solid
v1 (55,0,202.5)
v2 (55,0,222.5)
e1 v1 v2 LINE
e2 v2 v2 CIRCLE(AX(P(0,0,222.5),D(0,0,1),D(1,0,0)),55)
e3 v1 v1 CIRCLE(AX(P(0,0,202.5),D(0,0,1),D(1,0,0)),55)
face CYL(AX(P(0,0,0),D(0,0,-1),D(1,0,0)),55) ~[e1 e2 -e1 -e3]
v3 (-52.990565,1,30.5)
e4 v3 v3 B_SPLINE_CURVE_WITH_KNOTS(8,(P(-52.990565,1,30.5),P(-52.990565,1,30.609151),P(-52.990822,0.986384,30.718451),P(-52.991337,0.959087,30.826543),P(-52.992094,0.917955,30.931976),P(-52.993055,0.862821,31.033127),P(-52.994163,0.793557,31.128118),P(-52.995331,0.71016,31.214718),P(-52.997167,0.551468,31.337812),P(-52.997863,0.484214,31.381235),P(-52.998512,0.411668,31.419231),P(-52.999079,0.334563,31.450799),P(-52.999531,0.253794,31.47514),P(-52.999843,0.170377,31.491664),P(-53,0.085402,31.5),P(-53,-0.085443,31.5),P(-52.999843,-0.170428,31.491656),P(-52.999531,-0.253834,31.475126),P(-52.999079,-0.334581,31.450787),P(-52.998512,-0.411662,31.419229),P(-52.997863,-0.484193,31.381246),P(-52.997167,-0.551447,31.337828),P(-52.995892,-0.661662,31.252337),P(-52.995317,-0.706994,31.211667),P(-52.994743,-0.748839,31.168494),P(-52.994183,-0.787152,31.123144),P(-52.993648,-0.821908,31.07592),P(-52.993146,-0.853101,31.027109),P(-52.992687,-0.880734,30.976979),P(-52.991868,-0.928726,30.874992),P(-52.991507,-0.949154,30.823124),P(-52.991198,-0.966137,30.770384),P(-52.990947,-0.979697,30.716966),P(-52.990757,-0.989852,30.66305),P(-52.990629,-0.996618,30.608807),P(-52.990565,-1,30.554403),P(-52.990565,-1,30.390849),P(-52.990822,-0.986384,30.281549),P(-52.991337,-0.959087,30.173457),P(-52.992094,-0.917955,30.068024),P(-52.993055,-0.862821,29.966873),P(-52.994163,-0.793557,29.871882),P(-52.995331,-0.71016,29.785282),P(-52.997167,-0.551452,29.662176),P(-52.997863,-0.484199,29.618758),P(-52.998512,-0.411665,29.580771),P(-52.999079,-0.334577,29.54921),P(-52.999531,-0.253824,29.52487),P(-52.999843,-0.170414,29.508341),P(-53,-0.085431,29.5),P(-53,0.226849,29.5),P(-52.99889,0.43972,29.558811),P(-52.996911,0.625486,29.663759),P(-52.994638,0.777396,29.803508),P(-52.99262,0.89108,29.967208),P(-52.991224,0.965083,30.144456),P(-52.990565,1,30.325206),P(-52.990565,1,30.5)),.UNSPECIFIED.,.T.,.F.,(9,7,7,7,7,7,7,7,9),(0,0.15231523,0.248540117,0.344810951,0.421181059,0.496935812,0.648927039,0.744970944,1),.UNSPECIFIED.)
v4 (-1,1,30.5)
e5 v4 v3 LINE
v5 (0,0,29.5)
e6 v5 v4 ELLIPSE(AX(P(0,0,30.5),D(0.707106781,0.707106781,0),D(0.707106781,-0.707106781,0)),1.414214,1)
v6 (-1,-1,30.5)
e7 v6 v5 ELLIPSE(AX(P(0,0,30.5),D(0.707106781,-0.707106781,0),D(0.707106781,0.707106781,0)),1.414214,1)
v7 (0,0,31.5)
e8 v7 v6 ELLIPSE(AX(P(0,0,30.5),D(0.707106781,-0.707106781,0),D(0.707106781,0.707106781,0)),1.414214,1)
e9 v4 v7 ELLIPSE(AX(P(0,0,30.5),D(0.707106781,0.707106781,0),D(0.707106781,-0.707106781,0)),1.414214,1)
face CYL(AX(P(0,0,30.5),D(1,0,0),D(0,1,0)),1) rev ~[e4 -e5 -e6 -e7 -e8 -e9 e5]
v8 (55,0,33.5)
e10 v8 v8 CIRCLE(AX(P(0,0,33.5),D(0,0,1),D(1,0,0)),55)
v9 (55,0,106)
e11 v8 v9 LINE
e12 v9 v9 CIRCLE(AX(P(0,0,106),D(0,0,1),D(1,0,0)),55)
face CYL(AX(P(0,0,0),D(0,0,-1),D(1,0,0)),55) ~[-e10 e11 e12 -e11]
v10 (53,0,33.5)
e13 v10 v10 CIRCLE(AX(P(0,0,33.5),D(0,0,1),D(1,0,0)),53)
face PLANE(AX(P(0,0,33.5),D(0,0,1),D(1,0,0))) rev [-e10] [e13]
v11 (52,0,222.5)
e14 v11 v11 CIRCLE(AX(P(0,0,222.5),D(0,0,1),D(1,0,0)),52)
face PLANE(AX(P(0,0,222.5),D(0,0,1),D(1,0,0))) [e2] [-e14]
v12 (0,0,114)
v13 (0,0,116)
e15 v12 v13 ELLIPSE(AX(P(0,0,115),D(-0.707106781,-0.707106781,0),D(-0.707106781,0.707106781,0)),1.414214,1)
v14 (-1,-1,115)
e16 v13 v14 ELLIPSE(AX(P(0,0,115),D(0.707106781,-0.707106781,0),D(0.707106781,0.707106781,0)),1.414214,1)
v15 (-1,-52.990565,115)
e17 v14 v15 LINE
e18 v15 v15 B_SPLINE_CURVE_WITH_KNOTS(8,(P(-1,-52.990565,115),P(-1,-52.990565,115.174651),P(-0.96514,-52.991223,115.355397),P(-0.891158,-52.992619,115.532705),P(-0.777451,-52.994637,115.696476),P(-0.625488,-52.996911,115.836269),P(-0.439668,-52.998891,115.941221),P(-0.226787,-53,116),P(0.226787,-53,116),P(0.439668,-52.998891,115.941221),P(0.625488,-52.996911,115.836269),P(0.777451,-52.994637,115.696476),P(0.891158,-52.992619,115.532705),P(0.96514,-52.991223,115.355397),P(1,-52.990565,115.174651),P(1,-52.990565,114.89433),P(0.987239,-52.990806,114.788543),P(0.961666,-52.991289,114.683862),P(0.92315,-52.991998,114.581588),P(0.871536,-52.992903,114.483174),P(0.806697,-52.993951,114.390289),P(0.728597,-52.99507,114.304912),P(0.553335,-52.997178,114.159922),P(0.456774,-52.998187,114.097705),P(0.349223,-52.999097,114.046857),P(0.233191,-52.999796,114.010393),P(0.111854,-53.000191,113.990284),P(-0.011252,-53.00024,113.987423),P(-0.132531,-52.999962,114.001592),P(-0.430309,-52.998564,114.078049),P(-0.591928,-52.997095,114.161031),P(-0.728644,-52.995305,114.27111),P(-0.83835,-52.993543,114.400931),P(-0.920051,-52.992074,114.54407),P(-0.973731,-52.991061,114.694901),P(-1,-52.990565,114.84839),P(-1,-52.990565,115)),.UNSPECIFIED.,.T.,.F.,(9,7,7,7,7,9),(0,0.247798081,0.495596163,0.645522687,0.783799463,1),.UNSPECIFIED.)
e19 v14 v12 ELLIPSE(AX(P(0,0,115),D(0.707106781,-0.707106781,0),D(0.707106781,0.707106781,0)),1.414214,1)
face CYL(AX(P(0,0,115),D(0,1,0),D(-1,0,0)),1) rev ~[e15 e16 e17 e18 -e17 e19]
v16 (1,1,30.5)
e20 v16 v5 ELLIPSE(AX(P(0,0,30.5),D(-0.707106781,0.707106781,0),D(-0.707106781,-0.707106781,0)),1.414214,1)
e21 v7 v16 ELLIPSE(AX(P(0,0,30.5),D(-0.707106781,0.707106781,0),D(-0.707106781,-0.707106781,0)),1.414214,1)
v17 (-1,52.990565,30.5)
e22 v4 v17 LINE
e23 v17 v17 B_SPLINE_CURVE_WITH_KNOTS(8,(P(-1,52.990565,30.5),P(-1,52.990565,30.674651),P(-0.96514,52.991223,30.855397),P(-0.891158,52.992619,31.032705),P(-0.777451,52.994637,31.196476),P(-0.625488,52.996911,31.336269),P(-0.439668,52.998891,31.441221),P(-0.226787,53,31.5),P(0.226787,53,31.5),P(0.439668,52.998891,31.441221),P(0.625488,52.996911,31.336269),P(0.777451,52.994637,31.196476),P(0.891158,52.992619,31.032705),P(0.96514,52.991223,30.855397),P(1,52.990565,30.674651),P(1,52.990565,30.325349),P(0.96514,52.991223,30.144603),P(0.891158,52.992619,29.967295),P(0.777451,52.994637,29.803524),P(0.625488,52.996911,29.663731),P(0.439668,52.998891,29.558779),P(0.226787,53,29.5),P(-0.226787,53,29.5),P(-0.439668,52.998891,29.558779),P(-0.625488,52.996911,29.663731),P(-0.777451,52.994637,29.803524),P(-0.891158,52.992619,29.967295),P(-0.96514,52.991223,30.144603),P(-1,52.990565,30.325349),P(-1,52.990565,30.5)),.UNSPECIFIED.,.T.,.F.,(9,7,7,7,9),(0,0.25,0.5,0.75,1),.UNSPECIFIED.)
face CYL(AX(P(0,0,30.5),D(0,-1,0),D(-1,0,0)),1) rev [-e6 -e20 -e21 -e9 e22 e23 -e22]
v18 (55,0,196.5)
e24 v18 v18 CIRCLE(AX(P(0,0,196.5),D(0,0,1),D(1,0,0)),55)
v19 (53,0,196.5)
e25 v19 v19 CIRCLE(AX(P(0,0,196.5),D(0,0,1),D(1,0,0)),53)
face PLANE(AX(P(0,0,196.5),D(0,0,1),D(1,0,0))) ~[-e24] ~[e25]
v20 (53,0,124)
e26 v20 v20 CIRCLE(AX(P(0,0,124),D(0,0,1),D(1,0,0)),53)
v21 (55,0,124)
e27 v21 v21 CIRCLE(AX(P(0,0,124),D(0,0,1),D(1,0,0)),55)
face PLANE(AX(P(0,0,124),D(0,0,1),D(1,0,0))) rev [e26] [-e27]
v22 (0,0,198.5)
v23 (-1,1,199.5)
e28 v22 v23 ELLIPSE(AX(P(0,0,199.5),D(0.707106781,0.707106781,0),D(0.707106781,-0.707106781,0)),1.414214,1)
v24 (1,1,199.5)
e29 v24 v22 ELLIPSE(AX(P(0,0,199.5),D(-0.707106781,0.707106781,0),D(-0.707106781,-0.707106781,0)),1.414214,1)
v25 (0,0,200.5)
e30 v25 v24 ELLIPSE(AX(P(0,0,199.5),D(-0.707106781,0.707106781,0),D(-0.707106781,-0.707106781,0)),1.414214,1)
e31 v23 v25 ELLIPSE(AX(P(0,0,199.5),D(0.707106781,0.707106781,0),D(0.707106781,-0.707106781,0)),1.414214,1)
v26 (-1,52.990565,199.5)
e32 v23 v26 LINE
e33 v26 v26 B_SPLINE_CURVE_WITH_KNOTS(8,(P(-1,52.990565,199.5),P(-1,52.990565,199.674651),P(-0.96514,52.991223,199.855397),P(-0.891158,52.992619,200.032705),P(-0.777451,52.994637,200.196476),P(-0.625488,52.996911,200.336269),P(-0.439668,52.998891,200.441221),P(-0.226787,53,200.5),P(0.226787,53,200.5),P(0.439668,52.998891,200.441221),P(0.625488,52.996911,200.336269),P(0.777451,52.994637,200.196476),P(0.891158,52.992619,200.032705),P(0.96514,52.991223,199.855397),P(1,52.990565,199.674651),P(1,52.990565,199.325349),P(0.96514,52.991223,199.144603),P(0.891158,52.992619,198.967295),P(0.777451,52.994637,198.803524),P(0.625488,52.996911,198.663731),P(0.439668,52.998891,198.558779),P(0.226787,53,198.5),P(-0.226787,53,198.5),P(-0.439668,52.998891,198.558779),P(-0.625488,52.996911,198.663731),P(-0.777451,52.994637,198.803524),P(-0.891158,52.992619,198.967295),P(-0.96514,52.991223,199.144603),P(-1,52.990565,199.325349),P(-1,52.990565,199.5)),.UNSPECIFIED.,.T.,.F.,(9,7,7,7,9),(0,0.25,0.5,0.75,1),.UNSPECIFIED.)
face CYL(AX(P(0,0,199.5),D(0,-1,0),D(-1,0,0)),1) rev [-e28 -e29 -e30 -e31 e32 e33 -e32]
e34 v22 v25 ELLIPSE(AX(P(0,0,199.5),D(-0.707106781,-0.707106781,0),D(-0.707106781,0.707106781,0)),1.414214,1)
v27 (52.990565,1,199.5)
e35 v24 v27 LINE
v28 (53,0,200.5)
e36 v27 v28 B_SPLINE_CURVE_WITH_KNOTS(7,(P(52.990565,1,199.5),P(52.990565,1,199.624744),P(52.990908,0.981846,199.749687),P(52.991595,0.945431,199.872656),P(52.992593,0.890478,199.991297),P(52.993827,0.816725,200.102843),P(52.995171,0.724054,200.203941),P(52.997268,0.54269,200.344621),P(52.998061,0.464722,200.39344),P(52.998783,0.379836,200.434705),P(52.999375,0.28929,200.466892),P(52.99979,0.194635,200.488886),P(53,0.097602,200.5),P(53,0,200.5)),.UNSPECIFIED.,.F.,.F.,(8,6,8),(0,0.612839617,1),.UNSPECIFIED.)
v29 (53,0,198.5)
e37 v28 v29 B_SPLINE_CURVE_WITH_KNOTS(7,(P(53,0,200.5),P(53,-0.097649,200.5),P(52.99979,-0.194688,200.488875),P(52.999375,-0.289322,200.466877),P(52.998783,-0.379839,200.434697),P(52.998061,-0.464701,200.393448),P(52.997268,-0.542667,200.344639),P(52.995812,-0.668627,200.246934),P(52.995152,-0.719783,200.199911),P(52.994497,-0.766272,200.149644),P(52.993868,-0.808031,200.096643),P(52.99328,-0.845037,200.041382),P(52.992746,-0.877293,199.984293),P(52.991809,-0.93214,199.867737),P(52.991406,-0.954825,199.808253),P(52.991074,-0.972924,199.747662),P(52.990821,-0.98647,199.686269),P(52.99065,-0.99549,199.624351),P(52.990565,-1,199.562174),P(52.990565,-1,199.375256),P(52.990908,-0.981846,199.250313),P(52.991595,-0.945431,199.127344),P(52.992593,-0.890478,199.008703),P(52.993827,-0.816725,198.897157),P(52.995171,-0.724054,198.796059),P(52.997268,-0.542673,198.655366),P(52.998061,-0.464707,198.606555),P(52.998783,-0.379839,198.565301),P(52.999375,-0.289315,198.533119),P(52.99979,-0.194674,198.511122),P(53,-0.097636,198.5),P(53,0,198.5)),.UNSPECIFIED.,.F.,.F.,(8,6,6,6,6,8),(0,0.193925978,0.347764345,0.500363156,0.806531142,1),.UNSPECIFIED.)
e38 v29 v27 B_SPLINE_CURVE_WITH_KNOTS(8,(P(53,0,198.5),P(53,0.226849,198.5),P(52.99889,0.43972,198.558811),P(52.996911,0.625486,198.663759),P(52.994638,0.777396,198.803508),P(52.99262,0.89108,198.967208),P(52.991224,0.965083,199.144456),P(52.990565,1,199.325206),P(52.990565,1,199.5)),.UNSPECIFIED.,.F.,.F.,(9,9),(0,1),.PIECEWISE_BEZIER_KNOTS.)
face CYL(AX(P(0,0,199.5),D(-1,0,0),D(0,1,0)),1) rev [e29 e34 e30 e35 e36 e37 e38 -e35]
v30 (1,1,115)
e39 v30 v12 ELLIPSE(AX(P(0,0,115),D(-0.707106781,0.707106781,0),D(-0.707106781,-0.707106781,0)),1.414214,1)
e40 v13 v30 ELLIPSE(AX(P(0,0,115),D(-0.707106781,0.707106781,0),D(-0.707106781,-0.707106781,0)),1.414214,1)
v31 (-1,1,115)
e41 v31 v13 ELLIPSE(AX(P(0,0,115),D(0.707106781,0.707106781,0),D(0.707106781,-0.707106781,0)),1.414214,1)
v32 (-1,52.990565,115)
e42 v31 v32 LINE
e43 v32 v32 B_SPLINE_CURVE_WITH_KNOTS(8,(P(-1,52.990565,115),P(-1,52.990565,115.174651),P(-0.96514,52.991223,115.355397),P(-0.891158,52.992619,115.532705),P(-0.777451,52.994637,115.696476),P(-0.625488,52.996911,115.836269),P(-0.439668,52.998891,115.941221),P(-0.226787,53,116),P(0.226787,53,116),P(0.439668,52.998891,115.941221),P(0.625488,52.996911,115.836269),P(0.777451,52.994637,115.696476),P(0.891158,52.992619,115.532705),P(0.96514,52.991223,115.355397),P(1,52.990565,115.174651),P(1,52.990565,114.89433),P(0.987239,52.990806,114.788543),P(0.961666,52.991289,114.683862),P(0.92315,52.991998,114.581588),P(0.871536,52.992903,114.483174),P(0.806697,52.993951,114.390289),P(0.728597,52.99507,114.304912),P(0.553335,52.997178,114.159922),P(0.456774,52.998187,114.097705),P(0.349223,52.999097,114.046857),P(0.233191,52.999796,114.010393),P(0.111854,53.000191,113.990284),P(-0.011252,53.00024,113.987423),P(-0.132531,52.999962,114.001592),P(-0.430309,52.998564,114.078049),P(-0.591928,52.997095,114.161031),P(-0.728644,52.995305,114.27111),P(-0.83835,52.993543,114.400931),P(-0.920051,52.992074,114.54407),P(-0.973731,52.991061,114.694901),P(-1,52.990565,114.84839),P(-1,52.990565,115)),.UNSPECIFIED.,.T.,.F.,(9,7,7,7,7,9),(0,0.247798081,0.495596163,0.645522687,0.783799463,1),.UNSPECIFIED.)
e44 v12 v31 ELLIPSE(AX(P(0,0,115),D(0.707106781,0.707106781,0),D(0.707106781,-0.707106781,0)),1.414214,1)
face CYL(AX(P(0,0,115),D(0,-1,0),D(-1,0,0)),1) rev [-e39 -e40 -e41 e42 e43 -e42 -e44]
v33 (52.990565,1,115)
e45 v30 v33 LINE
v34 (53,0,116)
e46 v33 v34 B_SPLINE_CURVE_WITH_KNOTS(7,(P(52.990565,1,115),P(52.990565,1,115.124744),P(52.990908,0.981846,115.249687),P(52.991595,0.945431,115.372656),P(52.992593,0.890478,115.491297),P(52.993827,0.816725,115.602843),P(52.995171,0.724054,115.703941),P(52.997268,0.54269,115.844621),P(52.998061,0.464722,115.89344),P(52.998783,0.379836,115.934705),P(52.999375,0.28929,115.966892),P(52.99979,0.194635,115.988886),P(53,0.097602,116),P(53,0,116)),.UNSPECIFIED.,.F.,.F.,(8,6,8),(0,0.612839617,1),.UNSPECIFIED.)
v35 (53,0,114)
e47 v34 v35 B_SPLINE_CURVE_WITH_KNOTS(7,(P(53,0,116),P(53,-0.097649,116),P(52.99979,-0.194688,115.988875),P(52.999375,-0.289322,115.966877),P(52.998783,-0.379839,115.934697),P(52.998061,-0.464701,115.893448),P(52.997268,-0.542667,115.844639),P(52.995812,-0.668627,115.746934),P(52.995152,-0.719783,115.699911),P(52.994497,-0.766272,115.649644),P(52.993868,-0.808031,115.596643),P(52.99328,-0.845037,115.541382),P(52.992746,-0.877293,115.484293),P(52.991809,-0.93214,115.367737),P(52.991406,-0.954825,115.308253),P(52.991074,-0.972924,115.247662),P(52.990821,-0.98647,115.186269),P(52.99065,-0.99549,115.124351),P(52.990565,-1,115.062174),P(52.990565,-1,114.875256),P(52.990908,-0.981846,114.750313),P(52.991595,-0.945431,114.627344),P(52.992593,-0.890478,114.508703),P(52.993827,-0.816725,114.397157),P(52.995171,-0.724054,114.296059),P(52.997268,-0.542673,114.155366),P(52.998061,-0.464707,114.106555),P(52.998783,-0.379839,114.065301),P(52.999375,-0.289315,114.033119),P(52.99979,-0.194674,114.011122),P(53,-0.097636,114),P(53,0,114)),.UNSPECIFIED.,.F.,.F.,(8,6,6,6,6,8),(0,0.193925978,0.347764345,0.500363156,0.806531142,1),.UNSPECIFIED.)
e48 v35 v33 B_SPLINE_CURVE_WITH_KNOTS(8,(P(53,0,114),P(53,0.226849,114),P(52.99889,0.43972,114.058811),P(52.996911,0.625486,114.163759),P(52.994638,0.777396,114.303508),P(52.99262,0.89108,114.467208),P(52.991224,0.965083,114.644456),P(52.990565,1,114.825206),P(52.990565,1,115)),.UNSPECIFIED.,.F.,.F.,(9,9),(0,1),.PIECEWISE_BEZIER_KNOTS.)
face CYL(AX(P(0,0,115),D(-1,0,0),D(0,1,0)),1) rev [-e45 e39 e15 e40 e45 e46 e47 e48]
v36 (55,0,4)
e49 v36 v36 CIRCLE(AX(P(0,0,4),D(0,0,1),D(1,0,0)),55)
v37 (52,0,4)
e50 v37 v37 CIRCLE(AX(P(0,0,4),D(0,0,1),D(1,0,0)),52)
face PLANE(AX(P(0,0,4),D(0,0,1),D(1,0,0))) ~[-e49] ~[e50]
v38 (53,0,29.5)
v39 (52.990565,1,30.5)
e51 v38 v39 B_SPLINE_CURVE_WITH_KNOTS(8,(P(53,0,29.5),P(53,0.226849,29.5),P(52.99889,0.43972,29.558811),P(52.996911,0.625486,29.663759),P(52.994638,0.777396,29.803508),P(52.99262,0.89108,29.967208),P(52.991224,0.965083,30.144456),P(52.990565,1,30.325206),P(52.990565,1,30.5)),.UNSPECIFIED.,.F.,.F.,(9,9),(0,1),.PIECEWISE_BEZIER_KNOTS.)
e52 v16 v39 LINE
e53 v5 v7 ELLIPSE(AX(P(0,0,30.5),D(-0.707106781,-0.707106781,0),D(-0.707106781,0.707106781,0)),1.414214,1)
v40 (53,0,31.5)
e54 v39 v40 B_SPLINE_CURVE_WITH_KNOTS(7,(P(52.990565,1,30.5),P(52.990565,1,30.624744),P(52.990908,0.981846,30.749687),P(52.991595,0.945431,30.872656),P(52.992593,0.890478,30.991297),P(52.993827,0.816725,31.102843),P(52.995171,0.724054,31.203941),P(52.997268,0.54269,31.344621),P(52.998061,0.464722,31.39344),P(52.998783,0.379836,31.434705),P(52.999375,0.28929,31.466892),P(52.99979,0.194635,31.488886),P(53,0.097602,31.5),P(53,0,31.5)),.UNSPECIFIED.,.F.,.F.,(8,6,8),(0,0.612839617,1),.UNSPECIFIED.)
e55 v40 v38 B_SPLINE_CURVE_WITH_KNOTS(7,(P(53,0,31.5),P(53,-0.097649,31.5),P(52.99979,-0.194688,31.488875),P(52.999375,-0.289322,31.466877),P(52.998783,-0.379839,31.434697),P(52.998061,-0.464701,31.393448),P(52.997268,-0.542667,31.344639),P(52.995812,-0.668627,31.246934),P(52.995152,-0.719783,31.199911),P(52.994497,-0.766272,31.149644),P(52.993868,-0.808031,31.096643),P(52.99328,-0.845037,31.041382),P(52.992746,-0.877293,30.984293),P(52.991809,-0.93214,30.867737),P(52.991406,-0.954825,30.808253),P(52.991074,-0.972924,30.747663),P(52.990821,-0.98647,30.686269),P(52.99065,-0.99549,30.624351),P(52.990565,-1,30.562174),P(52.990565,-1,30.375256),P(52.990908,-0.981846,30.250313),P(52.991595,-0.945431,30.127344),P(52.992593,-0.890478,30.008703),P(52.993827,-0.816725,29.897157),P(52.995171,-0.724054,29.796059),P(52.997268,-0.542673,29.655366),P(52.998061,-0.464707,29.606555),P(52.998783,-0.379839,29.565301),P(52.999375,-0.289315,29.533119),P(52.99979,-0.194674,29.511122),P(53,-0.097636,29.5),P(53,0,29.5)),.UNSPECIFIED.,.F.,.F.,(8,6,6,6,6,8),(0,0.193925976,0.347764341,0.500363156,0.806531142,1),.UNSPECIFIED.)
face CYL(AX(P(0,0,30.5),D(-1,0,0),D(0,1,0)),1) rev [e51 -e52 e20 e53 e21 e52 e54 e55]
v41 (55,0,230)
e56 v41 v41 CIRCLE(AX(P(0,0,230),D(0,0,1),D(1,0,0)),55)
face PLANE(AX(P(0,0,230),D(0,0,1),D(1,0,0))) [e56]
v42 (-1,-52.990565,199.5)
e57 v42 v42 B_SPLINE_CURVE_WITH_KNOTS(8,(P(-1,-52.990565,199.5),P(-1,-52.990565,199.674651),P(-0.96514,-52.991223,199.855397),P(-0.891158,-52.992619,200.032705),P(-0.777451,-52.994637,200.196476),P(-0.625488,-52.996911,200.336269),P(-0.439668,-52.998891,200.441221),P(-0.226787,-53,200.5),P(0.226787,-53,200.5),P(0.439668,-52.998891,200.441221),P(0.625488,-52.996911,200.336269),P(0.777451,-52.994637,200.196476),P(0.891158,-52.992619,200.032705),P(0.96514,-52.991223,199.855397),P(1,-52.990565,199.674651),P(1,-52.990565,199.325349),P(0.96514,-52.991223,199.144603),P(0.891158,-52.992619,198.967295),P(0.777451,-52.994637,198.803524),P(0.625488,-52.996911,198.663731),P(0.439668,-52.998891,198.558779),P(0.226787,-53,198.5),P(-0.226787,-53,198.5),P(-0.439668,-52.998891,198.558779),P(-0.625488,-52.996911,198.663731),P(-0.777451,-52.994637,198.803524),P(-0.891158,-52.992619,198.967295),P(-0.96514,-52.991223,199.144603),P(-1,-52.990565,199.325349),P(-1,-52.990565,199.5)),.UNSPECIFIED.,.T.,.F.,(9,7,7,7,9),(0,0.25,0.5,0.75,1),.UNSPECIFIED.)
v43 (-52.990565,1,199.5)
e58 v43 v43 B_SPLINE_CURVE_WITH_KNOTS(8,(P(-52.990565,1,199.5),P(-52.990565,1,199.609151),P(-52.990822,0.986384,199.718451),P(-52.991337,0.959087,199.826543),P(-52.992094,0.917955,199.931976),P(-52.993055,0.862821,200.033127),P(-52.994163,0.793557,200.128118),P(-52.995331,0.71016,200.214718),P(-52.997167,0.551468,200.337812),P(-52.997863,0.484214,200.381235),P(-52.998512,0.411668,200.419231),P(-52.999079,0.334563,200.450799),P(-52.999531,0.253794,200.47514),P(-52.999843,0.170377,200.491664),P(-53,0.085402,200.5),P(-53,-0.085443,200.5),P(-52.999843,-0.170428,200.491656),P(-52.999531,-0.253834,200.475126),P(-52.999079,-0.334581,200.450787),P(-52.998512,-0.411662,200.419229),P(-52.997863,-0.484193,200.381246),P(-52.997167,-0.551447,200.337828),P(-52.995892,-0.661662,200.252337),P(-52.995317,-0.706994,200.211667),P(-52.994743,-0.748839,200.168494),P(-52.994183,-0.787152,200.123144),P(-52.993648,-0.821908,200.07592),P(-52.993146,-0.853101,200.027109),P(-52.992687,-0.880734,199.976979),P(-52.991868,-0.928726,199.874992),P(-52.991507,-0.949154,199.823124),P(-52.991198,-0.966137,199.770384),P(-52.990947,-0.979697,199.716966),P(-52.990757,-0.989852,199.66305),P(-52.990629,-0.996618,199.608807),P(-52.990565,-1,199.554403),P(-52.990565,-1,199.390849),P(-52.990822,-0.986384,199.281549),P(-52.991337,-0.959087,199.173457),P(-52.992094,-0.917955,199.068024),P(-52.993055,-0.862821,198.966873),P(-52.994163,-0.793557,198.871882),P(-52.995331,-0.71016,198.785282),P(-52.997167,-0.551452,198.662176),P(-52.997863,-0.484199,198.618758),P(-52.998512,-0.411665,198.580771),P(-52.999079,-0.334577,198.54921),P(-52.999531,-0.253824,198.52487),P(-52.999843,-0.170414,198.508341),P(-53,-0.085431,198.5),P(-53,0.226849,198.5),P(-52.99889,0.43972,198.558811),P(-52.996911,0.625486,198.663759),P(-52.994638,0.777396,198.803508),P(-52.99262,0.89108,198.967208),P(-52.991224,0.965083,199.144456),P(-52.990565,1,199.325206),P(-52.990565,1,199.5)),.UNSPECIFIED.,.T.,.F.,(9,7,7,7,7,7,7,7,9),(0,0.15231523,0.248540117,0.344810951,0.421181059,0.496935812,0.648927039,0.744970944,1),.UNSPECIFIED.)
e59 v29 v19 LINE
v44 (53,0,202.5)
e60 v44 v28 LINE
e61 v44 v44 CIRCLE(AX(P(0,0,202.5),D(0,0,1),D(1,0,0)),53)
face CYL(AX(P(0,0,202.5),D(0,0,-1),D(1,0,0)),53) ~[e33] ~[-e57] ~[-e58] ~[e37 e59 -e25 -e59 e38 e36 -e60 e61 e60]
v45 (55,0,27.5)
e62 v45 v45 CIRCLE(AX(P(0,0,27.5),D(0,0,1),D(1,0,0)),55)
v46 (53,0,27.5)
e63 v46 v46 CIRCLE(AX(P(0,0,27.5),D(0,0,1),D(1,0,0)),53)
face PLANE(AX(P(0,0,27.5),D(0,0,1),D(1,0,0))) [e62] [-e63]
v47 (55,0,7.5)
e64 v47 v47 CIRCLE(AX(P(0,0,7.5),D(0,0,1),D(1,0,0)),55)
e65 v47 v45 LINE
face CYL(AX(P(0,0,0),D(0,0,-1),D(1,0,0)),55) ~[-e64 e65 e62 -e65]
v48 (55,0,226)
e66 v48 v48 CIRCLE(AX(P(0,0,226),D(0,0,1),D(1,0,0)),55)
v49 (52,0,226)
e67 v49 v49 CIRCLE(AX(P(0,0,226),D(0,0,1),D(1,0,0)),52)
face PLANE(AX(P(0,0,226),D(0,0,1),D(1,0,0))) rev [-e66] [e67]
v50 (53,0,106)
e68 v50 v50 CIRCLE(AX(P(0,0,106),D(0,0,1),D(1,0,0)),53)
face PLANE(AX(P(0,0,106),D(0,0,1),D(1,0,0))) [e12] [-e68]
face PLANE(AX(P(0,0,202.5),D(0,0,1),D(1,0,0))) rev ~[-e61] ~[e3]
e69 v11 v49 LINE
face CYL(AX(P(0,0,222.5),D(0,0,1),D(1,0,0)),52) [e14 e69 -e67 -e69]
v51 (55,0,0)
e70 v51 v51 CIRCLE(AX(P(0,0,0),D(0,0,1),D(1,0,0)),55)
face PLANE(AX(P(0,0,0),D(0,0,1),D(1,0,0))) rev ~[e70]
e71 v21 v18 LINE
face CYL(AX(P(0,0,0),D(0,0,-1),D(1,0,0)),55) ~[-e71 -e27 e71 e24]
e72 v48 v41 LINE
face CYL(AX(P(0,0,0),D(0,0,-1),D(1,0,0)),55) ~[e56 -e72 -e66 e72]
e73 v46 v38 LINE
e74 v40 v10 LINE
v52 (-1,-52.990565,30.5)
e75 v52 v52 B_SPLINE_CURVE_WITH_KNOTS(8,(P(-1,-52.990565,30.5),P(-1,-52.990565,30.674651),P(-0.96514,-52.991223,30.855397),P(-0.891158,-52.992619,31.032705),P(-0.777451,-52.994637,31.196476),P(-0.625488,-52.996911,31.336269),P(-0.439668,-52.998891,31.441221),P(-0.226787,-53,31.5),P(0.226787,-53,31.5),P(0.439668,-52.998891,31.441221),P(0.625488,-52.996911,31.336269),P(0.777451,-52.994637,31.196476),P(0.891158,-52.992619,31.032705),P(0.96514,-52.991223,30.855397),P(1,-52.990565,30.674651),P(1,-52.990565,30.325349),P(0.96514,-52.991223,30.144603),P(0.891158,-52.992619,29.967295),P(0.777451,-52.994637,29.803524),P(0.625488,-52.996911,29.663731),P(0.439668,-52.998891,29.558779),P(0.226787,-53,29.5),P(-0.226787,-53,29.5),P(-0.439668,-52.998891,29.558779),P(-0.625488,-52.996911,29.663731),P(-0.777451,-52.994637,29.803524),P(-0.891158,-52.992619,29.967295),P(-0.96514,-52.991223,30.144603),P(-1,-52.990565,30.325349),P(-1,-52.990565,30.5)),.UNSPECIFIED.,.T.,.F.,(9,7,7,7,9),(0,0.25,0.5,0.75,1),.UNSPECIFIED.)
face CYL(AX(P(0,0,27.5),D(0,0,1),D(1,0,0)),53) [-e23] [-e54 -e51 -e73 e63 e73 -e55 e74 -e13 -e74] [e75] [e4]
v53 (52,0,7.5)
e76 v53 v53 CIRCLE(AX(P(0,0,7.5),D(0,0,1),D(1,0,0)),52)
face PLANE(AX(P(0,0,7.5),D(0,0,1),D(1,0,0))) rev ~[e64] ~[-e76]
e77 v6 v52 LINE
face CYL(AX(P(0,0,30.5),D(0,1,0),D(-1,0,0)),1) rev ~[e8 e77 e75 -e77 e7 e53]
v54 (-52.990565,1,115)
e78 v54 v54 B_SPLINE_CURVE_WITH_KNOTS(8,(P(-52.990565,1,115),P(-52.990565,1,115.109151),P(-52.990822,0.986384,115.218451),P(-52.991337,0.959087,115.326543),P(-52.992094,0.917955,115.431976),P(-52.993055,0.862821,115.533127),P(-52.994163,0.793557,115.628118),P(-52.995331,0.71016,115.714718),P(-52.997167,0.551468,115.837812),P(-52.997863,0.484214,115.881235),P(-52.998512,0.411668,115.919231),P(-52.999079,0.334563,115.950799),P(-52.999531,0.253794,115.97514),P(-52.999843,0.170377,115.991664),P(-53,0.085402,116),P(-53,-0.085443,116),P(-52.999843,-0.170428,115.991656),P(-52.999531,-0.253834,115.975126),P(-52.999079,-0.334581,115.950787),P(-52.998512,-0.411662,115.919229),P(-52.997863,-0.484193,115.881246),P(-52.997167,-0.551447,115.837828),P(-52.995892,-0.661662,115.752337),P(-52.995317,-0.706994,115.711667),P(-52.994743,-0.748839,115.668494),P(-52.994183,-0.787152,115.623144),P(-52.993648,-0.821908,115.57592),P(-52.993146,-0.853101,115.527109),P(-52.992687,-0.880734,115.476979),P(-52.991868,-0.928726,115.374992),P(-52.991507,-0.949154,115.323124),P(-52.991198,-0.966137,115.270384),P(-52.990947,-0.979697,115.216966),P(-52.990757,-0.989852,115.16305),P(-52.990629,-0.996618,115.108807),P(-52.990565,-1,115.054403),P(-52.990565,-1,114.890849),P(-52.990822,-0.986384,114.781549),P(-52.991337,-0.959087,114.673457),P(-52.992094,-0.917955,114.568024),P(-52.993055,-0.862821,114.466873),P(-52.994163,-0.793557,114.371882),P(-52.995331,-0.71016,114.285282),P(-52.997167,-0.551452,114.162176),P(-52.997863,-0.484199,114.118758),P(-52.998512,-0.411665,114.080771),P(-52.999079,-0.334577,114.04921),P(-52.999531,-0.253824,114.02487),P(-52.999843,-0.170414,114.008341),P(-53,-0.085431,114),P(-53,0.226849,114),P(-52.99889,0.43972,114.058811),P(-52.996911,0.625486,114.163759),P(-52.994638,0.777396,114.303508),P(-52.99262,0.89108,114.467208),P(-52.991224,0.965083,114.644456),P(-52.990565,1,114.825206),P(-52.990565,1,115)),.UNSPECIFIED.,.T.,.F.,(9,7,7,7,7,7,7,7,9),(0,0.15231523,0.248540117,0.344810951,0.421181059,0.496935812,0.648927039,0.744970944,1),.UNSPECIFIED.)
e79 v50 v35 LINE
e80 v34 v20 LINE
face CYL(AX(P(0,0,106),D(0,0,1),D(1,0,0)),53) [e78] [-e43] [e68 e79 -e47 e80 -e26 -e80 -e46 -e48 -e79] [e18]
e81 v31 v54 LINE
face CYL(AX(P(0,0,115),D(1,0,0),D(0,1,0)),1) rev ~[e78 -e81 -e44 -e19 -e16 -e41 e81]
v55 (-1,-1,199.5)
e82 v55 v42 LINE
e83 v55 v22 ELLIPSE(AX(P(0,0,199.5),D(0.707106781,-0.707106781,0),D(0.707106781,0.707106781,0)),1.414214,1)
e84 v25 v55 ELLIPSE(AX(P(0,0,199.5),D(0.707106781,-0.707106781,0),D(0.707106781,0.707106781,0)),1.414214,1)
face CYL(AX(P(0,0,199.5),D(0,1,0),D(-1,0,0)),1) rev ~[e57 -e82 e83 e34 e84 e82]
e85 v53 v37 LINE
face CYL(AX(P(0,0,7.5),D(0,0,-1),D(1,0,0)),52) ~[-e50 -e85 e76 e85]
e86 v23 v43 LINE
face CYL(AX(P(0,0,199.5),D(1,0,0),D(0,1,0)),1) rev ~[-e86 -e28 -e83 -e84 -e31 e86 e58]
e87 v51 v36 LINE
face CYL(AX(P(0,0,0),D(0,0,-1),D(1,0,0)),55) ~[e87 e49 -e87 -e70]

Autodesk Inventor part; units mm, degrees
ref_plane "YZ Plane" through (0, 0, 0) normal (1, 0, 0) x (0, 1, 0)
ref_plane "XZ Plane" through (0, 0, 0) normal (0, 1, 0) x (-1, 0, 0)
ref_plane "XY Plane" through (0, 0, 0) normal (0, 0, 1) x (1, 0, 0)
sketch "Эскиз1" plane through (0, 0, 0) normal (0, 0, 1) x (1, 0, 0)
  circle A0 centre (0, 0) radius 55
  dimension "d0" = 110
extrude "Выдавливание1" add sketch "Эскиз1" along normal blind 230
sketch "Эскиз2" plane through (0, 0, 0) normal (0, 1, 0) x (-1, 0, 0)
  line L0 (55, 0) -> (-55, 0) projected
  line L1 (-55, 0) -> (-55, 230) projected
  line L2 (55, 230) -> (-55, 230) projected
  line L3 (-55, 230) -> (-55, 222.5)
  line L4 (-55, 222.5) -> (-52, 222.5)
  line L5 (-52, 222.5) -> (-52, 226)
  line L6 (-52, 226) -> (-55, 226)
  line L7 (0, -46) -> (0, 276) projected
  line L8 (-55, 0) -> (-55, 7.5)
  line L9 (-55, 0) -> (-55, 230) projected
  line L10 (-55, 7.5) -> (-52, 7.5)
  line L11 (-52, 7.5) -> (-52, 4)
  line L12 (-52, 4) -> (-55, 4)
  line L13 (-55, 0) -> (-55, 230) projected
  line L14 (-55, 7.5) -> (-55, 27.5)
  line L15 (-55, 0) -> (-55, 230) projected
  line L16 (-55, 27.5) -> (-53, 27.5)
  line L17 (-53, 27.5) -> (-53, 33.5)
  line L18 (-53, 33.5) -> (-55, 33.5)
  line L19 (-55, 0) -> (-55, 230) projected
  line L20 (-55, 222.5) -> (-55, 202.5)
  line L21 (-55, 0) -> (-55, 230) projected
  line L22 (-55, 202.5) -> (-53, 202.5)
  line L23 (-53, 202.5) -> (-53, 196.5)
  line L24 (-53, 196.5) -> (-55, 196.5)
  line L25 (-55, 0) -> (-55, 230) projected
  line L26 (-55, 0) -> (-55, 230) projected
  line L27 (-55, 55) -> (-55, 106)
  line L28 (-55, 0) -> (-55, 230) projected
  line L29 (-55, 106) -> (-53, 106)
  line L30 (-53, 106) -> (-53, 124)
  line L31 (-53, 124) -> (-55, 124)
  line L32 (-55, 0) -> (-55, 230) projected
  point P0 (0, 0)
  dimension "d3" = 7.5
  dimension "d5" = 7.5
  dimension "d6" = 3.5
  dimension "d7" = 20
  dimension "d8" = 2
  dimension "d9" = 6
  dimension "d10" = 20
  dimension "d11" = 2
  dimension "d12" = 6
  dimension "d13" = 51
  dimension "d14" = 18
revolve "Вращение1" cut sketch "Эскиз2" angle 360 about axis through (0, 0, -10) along (0, 0, 1) contours L1 L10 L11 L12 | L6 L5 L4 L1 | L1 L18 L17 L16 | L22 L23 L24 L1 | L1 L31 L30 L29
sketch "Эскиз3" plane through (0, 0, 0) normal (1, 0, 0) x (0, 1, 0)
  line L0 (-53, 27.5) -> (-53, 33.5) projected
  line L1 (-53, 33.5) -> (53, 33.5) projected
  line L2 (55, 33.5) -> (-55, 33.5) projected
  line L3 (0, 33.5) -> (0, 30.5)
  circle A0 centre (0, 30.5) radius 1
  line L4 (-53, 106) -> (53, 106) projected
  line L5 (0, 106) -> (0, 115)
  circle A1 centre (0, 115) radius 1
  line L6 (-53, 196.5) -> (53, 196.5) projected
  line L7 (0, 196.5) -> (0, 199.5)
  circle A2 centre (0, 199.5) radius 1
  point P0 (0, 0)
  dimension "d15" = 2
  dimension "d16" = 3
extrude "Выдавливание2" cut sketch "Эскиз3" against normal through all both and the other way through all
sketch "Эскиз4" plane through (0, 0, 0) normal (0, 1, 0) x (-1, 0, 0)
  line L0 (-53, 29.5) -> (53, 29.5) projected
  line L1 (0, 29.5) -> (0, 30.5)
  circle A0 centre (0, 30.5) radius 1
  line L2 (-53, 114) -> (53, 114) projected
  line L3 (0, 114) -> (0, 115)
  circle A1 centre (0, 115) radius 1
  line L4 (-53, 198.5) -> (53, 198.5) projected
  line L5 (0, 198.5) -> (0, 199.5)
  circle A2 centre (0, 199.5) radius 1
  point P0 (0, 0)
  dimension "d19" = 1
  dimension "d20" = 1
extrude "Выдавливание3" cut sketch "Эскиз4" against normal through all both and the other way through all
properties part number "Палец" material "Сталь, высокопрочная, низколегированная"
